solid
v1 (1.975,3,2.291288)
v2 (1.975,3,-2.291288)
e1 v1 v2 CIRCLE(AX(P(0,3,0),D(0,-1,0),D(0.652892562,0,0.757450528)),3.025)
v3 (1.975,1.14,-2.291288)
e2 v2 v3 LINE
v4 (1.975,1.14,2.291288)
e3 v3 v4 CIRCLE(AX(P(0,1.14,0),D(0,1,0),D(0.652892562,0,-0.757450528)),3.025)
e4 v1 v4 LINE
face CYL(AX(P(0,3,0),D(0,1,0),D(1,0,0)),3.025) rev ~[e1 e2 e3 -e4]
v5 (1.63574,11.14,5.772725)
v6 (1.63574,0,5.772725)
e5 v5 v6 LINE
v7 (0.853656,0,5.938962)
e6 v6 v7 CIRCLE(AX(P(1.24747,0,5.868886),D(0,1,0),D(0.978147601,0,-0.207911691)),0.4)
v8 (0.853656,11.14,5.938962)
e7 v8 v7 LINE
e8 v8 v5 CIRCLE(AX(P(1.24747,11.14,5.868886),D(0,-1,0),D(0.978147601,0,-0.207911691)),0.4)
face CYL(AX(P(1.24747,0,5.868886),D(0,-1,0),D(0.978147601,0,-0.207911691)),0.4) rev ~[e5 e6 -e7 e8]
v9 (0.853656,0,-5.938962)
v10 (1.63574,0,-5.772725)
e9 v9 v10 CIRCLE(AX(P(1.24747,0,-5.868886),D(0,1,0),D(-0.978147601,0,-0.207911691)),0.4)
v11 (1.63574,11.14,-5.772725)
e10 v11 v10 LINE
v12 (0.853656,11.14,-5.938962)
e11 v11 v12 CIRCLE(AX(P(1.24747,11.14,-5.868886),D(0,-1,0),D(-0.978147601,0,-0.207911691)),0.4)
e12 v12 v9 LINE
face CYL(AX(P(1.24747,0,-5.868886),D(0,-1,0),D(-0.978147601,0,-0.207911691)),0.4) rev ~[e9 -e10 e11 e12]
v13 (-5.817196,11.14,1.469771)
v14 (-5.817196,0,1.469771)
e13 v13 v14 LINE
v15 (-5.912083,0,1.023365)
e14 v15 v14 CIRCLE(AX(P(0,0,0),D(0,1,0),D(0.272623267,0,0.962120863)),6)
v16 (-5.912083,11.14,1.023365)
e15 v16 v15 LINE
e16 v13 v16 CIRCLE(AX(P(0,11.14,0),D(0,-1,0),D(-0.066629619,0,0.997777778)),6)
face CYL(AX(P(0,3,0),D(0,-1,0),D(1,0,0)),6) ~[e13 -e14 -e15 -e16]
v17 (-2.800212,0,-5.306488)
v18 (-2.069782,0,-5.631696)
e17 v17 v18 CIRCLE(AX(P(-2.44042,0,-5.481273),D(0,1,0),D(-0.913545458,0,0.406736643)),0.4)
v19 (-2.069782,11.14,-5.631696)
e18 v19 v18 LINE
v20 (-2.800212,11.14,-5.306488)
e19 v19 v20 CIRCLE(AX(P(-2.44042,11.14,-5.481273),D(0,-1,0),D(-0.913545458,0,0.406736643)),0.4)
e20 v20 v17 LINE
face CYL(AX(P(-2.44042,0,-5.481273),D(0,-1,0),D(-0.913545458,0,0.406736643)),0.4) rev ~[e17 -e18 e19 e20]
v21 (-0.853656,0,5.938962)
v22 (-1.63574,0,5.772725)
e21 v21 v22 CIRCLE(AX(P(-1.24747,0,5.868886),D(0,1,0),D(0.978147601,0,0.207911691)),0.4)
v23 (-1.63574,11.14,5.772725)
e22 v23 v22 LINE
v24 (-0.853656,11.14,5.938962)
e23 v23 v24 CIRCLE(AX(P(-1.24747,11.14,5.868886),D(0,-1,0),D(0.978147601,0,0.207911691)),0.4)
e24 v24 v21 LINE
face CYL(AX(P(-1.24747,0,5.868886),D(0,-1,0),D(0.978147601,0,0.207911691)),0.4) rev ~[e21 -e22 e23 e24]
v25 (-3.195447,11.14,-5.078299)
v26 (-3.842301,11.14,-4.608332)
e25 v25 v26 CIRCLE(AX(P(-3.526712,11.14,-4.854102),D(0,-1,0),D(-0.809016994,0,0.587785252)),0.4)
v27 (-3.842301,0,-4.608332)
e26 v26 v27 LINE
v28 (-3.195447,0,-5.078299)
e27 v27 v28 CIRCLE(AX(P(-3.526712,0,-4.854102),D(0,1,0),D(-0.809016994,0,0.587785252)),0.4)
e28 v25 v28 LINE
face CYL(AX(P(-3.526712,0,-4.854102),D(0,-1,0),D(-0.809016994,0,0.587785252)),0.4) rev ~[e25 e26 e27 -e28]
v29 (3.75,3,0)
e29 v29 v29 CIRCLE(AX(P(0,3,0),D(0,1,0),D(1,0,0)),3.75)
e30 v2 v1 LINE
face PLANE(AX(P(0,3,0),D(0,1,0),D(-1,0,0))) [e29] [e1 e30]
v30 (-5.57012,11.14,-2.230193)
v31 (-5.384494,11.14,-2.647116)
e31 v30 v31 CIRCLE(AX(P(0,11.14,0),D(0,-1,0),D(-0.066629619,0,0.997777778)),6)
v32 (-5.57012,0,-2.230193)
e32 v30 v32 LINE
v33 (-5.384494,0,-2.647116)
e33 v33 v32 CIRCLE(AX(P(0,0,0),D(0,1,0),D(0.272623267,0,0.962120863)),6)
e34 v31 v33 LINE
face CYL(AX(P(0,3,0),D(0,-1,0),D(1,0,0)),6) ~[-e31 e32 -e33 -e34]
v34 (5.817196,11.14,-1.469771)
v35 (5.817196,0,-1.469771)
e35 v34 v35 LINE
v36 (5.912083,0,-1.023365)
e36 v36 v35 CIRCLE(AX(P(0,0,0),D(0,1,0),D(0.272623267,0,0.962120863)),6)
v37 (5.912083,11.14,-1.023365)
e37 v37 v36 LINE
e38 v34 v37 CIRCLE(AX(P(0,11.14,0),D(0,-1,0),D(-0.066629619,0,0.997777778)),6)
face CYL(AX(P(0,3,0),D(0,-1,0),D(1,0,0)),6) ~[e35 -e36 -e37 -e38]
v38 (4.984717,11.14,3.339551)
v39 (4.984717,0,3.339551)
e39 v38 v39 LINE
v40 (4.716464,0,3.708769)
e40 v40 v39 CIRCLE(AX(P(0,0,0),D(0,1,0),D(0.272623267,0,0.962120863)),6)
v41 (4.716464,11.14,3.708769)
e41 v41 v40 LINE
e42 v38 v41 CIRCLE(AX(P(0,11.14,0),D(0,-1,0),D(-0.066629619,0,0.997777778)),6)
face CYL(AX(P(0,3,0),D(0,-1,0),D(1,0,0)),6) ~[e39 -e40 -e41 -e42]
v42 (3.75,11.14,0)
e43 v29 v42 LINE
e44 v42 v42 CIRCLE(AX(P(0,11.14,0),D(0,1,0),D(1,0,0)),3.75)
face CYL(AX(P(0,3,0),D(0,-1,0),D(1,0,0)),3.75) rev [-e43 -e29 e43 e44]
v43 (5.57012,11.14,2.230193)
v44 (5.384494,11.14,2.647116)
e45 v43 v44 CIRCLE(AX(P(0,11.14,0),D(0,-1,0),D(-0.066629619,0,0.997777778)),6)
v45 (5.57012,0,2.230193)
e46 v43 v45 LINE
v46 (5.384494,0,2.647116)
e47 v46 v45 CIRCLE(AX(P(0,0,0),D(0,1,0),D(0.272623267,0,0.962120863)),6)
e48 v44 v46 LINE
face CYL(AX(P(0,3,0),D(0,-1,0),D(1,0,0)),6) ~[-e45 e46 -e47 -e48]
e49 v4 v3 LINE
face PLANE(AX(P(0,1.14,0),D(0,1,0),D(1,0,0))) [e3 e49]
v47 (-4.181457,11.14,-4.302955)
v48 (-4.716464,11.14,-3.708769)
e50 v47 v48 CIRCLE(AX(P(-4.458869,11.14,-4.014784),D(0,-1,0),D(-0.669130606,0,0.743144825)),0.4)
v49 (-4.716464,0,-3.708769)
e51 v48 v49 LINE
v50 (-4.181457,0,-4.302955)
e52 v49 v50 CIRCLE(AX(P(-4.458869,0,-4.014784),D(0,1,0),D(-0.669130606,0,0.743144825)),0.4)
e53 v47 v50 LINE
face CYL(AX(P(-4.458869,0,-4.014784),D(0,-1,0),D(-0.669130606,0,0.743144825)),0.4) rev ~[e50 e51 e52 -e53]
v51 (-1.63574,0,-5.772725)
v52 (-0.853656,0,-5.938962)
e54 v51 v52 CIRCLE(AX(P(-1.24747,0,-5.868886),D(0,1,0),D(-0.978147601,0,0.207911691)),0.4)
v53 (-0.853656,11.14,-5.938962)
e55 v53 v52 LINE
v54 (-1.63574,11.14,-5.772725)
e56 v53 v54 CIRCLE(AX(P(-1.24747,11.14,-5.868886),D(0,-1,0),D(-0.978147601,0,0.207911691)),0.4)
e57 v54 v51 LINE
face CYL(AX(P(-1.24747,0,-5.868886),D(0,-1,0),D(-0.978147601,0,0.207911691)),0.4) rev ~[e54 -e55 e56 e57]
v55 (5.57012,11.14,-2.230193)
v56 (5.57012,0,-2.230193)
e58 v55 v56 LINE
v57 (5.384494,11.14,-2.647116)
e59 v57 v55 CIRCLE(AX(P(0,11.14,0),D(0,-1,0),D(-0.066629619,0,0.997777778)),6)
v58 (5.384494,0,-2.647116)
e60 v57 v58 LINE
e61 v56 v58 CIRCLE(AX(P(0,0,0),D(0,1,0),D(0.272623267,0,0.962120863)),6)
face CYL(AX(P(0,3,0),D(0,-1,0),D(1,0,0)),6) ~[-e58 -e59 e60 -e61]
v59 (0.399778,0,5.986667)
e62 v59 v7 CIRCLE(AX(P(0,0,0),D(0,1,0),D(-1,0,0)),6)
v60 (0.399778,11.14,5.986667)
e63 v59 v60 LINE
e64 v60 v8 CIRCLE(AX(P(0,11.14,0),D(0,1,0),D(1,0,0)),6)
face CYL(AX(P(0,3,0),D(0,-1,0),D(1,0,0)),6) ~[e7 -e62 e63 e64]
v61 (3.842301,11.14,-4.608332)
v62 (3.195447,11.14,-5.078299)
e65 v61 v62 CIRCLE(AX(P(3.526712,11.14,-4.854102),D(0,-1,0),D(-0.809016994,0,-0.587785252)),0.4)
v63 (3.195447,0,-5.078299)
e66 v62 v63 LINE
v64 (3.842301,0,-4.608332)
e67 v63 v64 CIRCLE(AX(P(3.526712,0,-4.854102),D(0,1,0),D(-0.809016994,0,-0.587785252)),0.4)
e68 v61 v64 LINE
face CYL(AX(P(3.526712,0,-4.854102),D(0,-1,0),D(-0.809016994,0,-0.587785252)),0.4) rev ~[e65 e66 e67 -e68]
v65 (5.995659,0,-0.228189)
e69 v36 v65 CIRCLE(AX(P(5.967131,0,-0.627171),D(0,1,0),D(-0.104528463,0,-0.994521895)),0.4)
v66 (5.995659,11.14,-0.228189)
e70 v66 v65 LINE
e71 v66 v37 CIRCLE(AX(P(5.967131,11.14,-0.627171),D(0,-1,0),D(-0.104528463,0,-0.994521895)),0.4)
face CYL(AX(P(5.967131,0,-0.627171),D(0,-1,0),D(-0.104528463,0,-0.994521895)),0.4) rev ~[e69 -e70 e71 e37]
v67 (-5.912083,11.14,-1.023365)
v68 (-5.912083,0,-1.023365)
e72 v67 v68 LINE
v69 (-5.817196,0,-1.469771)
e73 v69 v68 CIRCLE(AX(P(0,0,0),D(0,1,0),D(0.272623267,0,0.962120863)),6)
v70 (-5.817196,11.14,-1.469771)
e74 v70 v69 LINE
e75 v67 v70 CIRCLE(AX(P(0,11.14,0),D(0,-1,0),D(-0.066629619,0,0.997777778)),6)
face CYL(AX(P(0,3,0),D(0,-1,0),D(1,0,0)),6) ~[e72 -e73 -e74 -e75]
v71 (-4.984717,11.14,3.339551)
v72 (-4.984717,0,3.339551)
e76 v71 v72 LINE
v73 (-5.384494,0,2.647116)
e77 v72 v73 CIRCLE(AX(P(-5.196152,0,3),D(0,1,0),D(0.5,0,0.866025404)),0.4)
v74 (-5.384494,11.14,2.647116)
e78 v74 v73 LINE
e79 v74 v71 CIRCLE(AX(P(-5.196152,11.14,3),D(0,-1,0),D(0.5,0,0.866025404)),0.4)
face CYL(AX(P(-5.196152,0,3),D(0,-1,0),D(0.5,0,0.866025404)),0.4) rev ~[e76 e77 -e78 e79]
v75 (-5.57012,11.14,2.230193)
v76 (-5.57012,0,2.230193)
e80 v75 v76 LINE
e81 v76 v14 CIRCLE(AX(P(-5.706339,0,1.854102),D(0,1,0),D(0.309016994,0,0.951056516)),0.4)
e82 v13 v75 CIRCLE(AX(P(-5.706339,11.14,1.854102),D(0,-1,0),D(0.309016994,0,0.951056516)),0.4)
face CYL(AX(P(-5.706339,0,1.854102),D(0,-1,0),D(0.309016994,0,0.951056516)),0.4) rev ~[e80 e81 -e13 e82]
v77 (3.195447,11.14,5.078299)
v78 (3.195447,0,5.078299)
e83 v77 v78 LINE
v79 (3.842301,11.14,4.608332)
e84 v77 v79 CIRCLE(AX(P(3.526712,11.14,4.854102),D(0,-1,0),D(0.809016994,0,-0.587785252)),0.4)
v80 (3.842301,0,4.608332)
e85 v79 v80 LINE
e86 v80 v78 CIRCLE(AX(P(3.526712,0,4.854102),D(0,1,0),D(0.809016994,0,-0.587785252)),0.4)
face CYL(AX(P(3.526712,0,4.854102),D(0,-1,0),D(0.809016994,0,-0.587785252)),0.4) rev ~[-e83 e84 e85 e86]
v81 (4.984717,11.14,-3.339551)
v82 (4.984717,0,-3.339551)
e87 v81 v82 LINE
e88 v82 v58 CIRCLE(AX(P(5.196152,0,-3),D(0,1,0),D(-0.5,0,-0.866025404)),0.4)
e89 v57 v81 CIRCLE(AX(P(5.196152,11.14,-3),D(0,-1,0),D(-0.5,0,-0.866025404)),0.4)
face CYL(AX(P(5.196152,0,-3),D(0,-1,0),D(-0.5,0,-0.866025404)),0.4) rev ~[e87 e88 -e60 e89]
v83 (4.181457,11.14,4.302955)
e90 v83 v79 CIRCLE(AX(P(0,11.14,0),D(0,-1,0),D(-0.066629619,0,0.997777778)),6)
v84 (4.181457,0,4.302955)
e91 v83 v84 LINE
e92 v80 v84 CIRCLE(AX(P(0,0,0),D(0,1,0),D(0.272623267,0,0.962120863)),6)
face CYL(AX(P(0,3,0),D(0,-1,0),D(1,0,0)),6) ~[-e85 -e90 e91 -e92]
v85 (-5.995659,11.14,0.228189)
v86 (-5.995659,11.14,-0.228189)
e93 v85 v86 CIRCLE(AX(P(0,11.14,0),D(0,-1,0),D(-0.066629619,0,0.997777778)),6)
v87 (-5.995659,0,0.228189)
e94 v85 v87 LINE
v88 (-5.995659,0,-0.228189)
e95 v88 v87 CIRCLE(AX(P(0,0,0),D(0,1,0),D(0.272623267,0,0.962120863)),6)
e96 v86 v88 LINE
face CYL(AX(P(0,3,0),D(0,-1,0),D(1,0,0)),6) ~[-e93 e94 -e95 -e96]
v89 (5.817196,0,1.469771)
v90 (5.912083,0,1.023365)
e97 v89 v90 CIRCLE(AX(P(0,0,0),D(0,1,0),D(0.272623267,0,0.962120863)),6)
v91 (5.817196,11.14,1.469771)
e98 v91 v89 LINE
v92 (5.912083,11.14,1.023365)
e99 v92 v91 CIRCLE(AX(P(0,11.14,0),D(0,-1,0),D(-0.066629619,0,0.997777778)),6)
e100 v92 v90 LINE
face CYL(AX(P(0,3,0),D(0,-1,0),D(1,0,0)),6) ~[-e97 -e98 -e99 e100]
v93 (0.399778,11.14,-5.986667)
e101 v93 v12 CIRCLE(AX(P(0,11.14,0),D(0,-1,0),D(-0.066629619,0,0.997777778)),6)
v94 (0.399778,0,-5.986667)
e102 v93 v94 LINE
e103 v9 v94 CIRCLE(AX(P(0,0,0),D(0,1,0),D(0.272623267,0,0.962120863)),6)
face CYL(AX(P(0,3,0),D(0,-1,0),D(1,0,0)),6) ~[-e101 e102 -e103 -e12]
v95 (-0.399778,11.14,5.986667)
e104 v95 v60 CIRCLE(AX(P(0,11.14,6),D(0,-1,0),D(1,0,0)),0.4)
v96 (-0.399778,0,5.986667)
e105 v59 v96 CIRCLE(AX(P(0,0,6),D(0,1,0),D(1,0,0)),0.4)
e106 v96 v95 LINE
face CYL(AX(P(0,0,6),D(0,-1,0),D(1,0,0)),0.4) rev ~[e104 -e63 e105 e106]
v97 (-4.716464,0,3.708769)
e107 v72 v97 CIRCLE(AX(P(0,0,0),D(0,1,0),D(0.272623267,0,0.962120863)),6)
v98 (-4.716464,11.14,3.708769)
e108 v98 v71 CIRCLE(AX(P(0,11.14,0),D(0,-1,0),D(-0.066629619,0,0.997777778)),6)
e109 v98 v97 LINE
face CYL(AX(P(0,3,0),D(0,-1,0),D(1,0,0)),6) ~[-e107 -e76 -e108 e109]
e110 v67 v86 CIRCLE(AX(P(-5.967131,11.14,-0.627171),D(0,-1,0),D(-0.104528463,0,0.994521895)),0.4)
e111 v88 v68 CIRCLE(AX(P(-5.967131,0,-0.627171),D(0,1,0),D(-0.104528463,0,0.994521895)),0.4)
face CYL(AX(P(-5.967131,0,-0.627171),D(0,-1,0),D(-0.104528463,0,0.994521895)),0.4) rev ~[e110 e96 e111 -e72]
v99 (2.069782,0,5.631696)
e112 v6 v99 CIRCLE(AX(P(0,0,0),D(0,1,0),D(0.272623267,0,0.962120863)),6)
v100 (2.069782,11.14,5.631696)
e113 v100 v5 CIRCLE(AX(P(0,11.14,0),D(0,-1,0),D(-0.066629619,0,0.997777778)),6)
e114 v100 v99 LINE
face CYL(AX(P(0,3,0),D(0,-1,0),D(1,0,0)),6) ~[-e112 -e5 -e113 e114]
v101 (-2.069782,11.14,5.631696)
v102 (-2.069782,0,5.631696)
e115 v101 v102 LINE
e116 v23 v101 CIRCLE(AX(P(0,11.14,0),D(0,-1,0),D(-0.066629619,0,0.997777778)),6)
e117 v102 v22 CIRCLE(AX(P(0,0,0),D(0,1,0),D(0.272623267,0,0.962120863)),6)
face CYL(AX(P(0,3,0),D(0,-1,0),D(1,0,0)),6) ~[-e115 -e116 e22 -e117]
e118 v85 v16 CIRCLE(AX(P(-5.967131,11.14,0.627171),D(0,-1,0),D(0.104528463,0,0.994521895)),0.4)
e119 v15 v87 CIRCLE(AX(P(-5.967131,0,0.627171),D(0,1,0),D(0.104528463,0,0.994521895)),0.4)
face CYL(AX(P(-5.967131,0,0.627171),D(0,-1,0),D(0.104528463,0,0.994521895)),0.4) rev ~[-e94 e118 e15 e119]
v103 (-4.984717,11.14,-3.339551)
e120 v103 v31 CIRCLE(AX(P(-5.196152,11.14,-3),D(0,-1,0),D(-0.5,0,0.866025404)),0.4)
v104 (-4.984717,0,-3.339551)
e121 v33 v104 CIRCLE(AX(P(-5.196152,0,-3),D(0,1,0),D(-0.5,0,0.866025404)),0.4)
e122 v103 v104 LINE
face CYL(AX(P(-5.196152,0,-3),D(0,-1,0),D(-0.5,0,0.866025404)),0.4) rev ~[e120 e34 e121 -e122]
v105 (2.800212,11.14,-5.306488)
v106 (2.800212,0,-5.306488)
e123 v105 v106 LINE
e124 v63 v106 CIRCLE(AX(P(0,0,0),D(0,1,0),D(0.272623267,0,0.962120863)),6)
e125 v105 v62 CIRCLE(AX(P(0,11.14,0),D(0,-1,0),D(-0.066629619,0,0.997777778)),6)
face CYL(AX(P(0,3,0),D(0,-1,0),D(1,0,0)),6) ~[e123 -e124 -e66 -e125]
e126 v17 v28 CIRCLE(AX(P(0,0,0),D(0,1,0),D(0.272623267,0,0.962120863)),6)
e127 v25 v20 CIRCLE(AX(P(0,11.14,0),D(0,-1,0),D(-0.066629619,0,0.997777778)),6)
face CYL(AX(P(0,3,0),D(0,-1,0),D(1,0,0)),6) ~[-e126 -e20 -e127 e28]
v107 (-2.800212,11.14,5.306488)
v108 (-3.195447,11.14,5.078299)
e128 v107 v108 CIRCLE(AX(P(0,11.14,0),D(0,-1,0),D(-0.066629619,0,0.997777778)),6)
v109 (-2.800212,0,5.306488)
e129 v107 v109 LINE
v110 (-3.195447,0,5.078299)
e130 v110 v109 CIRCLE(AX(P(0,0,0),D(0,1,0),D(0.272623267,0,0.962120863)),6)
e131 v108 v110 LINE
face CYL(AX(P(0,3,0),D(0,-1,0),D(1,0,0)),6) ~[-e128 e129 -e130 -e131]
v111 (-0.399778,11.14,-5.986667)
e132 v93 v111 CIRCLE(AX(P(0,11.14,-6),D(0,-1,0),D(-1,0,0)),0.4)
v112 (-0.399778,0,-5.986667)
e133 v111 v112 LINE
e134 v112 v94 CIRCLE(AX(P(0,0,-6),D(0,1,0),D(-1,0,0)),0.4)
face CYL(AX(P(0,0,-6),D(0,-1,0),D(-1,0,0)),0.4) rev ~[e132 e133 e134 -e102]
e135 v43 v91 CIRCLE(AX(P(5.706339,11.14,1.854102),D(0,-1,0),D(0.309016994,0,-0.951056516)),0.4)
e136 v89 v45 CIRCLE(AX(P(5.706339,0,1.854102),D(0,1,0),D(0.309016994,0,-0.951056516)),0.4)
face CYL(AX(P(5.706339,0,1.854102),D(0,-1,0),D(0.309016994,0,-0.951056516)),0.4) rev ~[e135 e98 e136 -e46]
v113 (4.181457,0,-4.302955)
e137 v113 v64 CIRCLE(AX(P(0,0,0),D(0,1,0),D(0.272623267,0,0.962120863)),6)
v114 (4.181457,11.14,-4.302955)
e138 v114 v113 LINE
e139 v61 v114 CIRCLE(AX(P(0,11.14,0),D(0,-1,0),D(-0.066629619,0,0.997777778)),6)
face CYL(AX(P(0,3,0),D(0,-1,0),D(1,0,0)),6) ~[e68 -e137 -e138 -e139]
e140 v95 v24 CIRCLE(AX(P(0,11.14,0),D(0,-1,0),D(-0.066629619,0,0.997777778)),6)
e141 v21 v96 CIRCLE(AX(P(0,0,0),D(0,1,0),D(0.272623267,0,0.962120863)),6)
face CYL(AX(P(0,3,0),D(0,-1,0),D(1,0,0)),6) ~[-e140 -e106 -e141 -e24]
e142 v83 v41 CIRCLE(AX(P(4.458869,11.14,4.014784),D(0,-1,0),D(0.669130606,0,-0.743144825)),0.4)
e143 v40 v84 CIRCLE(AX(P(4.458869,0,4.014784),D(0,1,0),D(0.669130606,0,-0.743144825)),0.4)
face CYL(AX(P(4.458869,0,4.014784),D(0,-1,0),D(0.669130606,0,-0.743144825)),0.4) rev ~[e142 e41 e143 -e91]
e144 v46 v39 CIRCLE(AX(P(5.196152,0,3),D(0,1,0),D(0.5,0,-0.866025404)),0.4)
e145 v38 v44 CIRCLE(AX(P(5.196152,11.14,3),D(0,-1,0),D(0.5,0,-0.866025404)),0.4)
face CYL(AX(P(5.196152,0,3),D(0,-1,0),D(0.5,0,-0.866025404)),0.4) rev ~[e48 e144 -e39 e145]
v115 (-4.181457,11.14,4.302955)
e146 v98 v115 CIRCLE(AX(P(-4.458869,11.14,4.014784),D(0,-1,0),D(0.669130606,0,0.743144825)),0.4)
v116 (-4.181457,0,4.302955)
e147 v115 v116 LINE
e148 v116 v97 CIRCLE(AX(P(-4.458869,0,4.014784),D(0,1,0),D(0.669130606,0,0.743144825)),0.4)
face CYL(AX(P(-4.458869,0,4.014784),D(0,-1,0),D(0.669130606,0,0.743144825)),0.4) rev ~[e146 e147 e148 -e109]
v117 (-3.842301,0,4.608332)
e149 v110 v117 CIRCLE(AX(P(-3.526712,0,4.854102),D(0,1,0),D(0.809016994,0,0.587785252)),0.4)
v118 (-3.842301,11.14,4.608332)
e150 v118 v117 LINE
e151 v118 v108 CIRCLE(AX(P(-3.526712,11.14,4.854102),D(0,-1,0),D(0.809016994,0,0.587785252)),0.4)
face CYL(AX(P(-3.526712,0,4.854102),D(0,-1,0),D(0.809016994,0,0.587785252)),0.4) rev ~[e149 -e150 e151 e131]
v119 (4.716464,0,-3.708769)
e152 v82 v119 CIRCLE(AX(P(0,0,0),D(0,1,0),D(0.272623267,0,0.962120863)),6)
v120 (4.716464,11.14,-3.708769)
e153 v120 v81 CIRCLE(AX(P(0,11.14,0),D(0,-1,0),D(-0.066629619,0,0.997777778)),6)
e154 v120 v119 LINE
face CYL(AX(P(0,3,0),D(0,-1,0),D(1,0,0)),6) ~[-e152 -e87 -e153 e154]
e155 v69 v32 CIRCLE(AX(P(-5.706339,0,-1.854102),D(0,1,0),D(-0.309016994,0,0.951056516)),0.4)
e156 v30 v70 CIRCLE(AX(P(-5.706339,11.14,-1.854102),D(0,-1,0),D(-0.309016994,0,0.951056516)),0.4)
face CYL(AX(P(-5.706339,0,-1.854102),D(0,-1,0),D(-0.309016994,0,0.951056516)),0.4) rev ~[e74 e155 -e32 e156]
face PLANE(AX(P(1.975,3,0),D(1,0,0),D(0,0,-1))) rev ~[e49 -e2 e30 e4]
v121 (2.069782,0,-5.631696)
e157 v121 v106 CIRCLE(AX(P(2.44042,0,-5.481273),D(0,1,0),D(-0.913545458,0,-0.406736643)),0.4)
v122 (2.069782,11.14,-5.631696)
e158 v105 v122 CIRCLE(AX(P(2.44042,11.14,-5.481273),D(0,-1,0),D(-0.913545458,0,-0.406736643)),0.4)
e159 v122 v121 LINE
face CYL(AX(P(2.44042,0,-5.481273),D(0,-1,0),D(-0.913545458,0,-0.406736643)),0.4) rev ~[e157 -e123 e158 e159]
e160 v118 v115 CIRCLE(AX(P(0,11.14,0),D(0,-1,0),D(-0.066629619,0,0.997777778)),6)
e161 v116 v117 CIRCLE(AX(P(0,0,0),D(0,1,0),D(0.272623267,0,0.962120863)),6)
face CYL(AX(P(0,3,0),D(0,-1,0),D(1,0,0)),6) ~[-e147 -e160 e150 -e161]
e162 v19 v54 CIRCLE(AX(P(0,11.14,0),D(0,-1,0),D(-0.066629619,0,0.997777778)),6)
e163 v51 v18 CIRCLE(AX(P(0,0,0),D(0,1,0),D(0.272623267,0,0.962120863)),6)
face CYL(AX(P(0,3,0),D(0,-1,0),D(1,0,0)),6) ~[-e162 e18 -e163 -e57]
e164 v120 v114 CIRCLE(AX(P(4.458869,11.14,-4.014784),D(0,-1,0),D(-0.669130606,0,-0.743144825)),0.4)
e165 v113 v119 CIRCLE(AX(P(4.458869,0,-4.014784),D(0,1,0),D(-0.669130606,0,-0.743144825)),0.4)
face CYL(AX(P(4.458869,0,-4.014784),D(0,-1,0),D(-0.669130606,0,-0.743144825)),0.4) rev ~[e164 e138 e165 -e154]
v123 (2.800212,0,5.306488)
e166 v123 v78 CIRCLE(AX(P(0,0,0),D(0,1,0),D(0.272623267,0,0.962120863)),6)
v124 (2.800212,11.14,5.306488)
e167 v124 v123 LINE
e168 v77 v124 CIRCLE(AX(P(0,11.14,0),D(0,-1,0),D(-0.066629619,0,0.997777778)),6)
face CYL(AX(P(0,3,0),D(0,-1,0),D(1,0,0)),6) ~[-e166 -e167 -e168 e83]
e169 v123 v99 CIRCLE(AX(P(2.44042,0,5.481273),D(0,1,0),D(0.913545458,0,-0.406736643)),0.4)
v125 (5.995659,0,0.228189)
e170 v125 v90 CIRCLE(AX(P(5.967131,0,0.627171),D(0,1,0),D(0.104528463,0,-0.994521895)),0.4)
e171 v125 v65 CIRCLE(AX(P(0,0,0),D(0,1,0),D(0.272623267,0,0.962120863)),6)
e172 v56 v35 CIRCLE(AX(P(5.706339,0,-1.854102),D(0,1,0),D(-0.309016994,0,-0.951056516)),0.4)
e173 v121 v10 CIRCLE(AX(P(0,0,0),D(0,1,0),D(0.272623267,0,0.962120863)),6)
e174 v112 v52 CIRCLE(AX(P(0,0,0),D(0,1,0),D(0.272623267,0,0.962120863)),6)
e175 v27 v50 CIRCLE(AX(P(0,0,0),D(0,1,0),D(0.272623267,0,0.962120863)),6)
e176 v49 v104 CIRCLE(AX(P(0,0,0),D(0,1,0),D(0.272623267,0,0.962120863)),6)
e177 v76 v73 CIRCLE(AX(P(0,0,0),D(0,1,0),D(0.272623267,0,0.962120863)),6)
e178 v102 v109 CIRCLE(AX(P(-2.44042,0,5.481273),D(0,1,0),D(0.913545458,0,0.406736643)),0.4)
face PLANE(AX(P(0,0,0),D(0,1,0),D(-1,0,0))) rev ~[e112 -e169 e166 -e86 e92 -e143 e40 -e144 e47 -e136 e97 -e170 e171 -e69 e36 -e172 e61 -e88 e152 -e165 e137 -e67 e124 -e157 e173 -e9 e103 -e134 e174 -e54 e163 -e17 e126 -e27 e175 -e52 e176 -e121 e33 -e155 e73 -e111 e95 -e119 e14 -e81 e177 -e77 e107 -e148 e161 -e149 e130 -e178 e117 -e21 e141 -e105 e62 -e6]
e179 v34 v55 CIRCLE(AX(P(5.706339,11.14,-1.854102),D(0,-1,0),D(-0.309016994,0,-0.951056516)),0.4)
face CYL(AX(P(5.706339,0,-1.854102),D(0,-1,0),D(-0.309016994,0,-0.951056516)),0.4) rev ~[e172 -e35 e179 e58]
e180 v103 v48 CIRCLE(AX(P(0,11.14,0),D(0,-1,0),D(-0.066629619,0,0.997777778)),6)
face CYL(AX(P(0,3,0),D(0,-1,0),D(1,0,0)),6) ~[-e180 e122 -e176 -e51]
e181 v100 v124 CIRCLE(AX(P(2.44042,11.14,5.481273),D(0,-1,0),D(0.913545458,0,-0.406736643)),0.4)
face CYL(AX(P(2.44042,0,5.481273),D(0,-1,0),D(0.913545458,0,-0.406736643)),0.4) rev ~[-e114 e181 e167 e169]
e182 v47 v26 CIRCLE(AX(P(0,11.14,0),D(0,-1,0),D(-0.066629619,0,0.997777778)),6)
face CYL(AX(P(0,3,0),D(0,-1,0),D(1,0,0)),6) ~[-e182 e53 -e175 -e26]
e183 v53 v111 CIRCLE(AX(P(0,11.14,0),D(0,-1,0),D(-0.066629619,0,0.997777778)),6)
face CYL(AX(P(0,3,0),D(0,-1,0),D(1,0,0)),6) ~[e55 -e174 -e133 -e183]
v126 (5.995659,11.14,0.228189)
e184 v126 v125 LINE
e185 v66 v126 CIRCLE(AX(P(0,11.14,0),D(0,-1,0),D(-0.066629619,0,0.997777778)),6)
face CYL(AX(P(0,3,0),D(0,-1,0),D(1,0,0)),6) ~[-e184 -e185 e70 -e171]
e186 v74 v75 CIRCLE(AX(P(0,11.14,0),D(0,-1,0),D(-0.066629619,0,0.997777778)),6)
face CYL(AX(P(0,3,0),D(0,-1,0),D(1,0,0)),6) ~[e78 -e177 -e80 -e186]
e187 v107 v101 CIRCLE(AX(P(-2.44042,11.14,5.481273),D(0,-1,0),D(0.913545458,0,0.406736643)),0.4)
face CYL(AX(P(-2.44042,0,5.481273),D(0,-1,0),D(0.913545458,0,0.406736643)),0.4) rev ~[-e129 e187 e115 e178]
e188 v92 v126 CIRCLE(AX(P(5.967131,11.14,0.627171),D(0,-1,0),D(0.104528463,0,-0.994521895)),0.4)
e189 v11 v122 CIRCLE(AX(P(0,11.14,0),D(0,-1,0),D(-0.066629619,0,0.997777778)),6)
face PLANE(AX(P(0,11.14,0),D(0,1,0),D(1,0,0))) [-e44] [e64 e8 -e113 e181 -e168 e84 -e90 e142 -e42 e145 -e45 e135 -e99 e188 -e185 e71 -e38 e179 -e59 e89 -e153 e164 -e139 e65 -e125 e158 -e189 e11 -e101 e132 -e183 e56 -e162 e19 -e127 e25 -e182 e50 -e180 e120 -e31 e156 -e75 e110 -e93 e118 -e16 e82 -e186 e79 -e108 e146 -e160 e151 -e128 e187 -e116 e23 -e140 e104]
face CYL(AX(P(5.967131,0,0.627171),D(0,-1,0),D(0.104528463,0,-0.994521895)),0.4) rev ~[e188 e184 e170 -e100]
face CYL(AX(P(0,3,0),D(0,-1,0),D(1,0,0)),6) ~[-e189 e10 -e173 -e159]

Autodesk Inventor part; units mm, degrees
ref_plane "YZ Plane" through (0, 0, 0) normal (1, 0, 0) x (0, 1, 0)
ref_plane "XZ Plane" through (0, 0, 0) normal (0, 1, 0) x (-1, 0, 0)
ref_plane "XY Plane" through (0, 0, 0) normal (0, 0, 1) x (1, 0, 0)
sketch "Sketch1" plane through (0, 0, 0) normal (0, 1, 0) x (-1, 0, 0)
  circle A0 centre (0, 0) radius 6
  dimension "d0" = 12
extrude "Extrusion1" add sketch "Sketch1" along normal blind 3
sketch "Sketch2" plane through (0, 3, 0) normal (0, 1, 0) x (1, 0, 0)
  circle A0 centre (0, 0) radius 3.025
  line L0 (1.975, -3) -> (1.975, 3)
  line L1 (-3.025, 0) -> (1.975, 0)
  point P0 (1.975, 2.2913)
  point P1 (1.975, -2.2913)
  dimension "d3" = 6.05
  dimension "d4" = 5
extrude "Extrusion2" cut sketch "Sketch2" against normal blind 1.86 contours L0 L1 A0 | A0 L1 L0
sketch "Sketch4" plane through (0, 3, 0) normal (0, 1, 0) x (1, 0, 0)
  circle A0 centre (0, 0) radius 3.75
  circle A1 centre (0, 0) radius 6
  dimension "d15" = 7.5
  dimension "d16" = 12
extrude "Extrusion4" add sketch "Sketch4" along normal blind 8.14
sketch "Sketch5" plane through (0, 0, 0) normal (0, -1, 0) x (1, 0, 0)
  circle A0 centre (0, 0) radius 6 projected
  circle A1 centre (0, 6) radius 0.4
  dimension "d17" = 0.8
extrude "Extrusion5" cut sketch "Sketch5" against normal through all contours A1 A0 | A0 A1 picked at (-0.0157, 5.8666) picked at (0.014, 6.1316)
pattern_circular "Circular Pattern2" count 30 over 360 about axis through (0, 0, 0) along (0, 1, 0) of "Extrusion5"
properties part number "Knob Rotory Encoder"
